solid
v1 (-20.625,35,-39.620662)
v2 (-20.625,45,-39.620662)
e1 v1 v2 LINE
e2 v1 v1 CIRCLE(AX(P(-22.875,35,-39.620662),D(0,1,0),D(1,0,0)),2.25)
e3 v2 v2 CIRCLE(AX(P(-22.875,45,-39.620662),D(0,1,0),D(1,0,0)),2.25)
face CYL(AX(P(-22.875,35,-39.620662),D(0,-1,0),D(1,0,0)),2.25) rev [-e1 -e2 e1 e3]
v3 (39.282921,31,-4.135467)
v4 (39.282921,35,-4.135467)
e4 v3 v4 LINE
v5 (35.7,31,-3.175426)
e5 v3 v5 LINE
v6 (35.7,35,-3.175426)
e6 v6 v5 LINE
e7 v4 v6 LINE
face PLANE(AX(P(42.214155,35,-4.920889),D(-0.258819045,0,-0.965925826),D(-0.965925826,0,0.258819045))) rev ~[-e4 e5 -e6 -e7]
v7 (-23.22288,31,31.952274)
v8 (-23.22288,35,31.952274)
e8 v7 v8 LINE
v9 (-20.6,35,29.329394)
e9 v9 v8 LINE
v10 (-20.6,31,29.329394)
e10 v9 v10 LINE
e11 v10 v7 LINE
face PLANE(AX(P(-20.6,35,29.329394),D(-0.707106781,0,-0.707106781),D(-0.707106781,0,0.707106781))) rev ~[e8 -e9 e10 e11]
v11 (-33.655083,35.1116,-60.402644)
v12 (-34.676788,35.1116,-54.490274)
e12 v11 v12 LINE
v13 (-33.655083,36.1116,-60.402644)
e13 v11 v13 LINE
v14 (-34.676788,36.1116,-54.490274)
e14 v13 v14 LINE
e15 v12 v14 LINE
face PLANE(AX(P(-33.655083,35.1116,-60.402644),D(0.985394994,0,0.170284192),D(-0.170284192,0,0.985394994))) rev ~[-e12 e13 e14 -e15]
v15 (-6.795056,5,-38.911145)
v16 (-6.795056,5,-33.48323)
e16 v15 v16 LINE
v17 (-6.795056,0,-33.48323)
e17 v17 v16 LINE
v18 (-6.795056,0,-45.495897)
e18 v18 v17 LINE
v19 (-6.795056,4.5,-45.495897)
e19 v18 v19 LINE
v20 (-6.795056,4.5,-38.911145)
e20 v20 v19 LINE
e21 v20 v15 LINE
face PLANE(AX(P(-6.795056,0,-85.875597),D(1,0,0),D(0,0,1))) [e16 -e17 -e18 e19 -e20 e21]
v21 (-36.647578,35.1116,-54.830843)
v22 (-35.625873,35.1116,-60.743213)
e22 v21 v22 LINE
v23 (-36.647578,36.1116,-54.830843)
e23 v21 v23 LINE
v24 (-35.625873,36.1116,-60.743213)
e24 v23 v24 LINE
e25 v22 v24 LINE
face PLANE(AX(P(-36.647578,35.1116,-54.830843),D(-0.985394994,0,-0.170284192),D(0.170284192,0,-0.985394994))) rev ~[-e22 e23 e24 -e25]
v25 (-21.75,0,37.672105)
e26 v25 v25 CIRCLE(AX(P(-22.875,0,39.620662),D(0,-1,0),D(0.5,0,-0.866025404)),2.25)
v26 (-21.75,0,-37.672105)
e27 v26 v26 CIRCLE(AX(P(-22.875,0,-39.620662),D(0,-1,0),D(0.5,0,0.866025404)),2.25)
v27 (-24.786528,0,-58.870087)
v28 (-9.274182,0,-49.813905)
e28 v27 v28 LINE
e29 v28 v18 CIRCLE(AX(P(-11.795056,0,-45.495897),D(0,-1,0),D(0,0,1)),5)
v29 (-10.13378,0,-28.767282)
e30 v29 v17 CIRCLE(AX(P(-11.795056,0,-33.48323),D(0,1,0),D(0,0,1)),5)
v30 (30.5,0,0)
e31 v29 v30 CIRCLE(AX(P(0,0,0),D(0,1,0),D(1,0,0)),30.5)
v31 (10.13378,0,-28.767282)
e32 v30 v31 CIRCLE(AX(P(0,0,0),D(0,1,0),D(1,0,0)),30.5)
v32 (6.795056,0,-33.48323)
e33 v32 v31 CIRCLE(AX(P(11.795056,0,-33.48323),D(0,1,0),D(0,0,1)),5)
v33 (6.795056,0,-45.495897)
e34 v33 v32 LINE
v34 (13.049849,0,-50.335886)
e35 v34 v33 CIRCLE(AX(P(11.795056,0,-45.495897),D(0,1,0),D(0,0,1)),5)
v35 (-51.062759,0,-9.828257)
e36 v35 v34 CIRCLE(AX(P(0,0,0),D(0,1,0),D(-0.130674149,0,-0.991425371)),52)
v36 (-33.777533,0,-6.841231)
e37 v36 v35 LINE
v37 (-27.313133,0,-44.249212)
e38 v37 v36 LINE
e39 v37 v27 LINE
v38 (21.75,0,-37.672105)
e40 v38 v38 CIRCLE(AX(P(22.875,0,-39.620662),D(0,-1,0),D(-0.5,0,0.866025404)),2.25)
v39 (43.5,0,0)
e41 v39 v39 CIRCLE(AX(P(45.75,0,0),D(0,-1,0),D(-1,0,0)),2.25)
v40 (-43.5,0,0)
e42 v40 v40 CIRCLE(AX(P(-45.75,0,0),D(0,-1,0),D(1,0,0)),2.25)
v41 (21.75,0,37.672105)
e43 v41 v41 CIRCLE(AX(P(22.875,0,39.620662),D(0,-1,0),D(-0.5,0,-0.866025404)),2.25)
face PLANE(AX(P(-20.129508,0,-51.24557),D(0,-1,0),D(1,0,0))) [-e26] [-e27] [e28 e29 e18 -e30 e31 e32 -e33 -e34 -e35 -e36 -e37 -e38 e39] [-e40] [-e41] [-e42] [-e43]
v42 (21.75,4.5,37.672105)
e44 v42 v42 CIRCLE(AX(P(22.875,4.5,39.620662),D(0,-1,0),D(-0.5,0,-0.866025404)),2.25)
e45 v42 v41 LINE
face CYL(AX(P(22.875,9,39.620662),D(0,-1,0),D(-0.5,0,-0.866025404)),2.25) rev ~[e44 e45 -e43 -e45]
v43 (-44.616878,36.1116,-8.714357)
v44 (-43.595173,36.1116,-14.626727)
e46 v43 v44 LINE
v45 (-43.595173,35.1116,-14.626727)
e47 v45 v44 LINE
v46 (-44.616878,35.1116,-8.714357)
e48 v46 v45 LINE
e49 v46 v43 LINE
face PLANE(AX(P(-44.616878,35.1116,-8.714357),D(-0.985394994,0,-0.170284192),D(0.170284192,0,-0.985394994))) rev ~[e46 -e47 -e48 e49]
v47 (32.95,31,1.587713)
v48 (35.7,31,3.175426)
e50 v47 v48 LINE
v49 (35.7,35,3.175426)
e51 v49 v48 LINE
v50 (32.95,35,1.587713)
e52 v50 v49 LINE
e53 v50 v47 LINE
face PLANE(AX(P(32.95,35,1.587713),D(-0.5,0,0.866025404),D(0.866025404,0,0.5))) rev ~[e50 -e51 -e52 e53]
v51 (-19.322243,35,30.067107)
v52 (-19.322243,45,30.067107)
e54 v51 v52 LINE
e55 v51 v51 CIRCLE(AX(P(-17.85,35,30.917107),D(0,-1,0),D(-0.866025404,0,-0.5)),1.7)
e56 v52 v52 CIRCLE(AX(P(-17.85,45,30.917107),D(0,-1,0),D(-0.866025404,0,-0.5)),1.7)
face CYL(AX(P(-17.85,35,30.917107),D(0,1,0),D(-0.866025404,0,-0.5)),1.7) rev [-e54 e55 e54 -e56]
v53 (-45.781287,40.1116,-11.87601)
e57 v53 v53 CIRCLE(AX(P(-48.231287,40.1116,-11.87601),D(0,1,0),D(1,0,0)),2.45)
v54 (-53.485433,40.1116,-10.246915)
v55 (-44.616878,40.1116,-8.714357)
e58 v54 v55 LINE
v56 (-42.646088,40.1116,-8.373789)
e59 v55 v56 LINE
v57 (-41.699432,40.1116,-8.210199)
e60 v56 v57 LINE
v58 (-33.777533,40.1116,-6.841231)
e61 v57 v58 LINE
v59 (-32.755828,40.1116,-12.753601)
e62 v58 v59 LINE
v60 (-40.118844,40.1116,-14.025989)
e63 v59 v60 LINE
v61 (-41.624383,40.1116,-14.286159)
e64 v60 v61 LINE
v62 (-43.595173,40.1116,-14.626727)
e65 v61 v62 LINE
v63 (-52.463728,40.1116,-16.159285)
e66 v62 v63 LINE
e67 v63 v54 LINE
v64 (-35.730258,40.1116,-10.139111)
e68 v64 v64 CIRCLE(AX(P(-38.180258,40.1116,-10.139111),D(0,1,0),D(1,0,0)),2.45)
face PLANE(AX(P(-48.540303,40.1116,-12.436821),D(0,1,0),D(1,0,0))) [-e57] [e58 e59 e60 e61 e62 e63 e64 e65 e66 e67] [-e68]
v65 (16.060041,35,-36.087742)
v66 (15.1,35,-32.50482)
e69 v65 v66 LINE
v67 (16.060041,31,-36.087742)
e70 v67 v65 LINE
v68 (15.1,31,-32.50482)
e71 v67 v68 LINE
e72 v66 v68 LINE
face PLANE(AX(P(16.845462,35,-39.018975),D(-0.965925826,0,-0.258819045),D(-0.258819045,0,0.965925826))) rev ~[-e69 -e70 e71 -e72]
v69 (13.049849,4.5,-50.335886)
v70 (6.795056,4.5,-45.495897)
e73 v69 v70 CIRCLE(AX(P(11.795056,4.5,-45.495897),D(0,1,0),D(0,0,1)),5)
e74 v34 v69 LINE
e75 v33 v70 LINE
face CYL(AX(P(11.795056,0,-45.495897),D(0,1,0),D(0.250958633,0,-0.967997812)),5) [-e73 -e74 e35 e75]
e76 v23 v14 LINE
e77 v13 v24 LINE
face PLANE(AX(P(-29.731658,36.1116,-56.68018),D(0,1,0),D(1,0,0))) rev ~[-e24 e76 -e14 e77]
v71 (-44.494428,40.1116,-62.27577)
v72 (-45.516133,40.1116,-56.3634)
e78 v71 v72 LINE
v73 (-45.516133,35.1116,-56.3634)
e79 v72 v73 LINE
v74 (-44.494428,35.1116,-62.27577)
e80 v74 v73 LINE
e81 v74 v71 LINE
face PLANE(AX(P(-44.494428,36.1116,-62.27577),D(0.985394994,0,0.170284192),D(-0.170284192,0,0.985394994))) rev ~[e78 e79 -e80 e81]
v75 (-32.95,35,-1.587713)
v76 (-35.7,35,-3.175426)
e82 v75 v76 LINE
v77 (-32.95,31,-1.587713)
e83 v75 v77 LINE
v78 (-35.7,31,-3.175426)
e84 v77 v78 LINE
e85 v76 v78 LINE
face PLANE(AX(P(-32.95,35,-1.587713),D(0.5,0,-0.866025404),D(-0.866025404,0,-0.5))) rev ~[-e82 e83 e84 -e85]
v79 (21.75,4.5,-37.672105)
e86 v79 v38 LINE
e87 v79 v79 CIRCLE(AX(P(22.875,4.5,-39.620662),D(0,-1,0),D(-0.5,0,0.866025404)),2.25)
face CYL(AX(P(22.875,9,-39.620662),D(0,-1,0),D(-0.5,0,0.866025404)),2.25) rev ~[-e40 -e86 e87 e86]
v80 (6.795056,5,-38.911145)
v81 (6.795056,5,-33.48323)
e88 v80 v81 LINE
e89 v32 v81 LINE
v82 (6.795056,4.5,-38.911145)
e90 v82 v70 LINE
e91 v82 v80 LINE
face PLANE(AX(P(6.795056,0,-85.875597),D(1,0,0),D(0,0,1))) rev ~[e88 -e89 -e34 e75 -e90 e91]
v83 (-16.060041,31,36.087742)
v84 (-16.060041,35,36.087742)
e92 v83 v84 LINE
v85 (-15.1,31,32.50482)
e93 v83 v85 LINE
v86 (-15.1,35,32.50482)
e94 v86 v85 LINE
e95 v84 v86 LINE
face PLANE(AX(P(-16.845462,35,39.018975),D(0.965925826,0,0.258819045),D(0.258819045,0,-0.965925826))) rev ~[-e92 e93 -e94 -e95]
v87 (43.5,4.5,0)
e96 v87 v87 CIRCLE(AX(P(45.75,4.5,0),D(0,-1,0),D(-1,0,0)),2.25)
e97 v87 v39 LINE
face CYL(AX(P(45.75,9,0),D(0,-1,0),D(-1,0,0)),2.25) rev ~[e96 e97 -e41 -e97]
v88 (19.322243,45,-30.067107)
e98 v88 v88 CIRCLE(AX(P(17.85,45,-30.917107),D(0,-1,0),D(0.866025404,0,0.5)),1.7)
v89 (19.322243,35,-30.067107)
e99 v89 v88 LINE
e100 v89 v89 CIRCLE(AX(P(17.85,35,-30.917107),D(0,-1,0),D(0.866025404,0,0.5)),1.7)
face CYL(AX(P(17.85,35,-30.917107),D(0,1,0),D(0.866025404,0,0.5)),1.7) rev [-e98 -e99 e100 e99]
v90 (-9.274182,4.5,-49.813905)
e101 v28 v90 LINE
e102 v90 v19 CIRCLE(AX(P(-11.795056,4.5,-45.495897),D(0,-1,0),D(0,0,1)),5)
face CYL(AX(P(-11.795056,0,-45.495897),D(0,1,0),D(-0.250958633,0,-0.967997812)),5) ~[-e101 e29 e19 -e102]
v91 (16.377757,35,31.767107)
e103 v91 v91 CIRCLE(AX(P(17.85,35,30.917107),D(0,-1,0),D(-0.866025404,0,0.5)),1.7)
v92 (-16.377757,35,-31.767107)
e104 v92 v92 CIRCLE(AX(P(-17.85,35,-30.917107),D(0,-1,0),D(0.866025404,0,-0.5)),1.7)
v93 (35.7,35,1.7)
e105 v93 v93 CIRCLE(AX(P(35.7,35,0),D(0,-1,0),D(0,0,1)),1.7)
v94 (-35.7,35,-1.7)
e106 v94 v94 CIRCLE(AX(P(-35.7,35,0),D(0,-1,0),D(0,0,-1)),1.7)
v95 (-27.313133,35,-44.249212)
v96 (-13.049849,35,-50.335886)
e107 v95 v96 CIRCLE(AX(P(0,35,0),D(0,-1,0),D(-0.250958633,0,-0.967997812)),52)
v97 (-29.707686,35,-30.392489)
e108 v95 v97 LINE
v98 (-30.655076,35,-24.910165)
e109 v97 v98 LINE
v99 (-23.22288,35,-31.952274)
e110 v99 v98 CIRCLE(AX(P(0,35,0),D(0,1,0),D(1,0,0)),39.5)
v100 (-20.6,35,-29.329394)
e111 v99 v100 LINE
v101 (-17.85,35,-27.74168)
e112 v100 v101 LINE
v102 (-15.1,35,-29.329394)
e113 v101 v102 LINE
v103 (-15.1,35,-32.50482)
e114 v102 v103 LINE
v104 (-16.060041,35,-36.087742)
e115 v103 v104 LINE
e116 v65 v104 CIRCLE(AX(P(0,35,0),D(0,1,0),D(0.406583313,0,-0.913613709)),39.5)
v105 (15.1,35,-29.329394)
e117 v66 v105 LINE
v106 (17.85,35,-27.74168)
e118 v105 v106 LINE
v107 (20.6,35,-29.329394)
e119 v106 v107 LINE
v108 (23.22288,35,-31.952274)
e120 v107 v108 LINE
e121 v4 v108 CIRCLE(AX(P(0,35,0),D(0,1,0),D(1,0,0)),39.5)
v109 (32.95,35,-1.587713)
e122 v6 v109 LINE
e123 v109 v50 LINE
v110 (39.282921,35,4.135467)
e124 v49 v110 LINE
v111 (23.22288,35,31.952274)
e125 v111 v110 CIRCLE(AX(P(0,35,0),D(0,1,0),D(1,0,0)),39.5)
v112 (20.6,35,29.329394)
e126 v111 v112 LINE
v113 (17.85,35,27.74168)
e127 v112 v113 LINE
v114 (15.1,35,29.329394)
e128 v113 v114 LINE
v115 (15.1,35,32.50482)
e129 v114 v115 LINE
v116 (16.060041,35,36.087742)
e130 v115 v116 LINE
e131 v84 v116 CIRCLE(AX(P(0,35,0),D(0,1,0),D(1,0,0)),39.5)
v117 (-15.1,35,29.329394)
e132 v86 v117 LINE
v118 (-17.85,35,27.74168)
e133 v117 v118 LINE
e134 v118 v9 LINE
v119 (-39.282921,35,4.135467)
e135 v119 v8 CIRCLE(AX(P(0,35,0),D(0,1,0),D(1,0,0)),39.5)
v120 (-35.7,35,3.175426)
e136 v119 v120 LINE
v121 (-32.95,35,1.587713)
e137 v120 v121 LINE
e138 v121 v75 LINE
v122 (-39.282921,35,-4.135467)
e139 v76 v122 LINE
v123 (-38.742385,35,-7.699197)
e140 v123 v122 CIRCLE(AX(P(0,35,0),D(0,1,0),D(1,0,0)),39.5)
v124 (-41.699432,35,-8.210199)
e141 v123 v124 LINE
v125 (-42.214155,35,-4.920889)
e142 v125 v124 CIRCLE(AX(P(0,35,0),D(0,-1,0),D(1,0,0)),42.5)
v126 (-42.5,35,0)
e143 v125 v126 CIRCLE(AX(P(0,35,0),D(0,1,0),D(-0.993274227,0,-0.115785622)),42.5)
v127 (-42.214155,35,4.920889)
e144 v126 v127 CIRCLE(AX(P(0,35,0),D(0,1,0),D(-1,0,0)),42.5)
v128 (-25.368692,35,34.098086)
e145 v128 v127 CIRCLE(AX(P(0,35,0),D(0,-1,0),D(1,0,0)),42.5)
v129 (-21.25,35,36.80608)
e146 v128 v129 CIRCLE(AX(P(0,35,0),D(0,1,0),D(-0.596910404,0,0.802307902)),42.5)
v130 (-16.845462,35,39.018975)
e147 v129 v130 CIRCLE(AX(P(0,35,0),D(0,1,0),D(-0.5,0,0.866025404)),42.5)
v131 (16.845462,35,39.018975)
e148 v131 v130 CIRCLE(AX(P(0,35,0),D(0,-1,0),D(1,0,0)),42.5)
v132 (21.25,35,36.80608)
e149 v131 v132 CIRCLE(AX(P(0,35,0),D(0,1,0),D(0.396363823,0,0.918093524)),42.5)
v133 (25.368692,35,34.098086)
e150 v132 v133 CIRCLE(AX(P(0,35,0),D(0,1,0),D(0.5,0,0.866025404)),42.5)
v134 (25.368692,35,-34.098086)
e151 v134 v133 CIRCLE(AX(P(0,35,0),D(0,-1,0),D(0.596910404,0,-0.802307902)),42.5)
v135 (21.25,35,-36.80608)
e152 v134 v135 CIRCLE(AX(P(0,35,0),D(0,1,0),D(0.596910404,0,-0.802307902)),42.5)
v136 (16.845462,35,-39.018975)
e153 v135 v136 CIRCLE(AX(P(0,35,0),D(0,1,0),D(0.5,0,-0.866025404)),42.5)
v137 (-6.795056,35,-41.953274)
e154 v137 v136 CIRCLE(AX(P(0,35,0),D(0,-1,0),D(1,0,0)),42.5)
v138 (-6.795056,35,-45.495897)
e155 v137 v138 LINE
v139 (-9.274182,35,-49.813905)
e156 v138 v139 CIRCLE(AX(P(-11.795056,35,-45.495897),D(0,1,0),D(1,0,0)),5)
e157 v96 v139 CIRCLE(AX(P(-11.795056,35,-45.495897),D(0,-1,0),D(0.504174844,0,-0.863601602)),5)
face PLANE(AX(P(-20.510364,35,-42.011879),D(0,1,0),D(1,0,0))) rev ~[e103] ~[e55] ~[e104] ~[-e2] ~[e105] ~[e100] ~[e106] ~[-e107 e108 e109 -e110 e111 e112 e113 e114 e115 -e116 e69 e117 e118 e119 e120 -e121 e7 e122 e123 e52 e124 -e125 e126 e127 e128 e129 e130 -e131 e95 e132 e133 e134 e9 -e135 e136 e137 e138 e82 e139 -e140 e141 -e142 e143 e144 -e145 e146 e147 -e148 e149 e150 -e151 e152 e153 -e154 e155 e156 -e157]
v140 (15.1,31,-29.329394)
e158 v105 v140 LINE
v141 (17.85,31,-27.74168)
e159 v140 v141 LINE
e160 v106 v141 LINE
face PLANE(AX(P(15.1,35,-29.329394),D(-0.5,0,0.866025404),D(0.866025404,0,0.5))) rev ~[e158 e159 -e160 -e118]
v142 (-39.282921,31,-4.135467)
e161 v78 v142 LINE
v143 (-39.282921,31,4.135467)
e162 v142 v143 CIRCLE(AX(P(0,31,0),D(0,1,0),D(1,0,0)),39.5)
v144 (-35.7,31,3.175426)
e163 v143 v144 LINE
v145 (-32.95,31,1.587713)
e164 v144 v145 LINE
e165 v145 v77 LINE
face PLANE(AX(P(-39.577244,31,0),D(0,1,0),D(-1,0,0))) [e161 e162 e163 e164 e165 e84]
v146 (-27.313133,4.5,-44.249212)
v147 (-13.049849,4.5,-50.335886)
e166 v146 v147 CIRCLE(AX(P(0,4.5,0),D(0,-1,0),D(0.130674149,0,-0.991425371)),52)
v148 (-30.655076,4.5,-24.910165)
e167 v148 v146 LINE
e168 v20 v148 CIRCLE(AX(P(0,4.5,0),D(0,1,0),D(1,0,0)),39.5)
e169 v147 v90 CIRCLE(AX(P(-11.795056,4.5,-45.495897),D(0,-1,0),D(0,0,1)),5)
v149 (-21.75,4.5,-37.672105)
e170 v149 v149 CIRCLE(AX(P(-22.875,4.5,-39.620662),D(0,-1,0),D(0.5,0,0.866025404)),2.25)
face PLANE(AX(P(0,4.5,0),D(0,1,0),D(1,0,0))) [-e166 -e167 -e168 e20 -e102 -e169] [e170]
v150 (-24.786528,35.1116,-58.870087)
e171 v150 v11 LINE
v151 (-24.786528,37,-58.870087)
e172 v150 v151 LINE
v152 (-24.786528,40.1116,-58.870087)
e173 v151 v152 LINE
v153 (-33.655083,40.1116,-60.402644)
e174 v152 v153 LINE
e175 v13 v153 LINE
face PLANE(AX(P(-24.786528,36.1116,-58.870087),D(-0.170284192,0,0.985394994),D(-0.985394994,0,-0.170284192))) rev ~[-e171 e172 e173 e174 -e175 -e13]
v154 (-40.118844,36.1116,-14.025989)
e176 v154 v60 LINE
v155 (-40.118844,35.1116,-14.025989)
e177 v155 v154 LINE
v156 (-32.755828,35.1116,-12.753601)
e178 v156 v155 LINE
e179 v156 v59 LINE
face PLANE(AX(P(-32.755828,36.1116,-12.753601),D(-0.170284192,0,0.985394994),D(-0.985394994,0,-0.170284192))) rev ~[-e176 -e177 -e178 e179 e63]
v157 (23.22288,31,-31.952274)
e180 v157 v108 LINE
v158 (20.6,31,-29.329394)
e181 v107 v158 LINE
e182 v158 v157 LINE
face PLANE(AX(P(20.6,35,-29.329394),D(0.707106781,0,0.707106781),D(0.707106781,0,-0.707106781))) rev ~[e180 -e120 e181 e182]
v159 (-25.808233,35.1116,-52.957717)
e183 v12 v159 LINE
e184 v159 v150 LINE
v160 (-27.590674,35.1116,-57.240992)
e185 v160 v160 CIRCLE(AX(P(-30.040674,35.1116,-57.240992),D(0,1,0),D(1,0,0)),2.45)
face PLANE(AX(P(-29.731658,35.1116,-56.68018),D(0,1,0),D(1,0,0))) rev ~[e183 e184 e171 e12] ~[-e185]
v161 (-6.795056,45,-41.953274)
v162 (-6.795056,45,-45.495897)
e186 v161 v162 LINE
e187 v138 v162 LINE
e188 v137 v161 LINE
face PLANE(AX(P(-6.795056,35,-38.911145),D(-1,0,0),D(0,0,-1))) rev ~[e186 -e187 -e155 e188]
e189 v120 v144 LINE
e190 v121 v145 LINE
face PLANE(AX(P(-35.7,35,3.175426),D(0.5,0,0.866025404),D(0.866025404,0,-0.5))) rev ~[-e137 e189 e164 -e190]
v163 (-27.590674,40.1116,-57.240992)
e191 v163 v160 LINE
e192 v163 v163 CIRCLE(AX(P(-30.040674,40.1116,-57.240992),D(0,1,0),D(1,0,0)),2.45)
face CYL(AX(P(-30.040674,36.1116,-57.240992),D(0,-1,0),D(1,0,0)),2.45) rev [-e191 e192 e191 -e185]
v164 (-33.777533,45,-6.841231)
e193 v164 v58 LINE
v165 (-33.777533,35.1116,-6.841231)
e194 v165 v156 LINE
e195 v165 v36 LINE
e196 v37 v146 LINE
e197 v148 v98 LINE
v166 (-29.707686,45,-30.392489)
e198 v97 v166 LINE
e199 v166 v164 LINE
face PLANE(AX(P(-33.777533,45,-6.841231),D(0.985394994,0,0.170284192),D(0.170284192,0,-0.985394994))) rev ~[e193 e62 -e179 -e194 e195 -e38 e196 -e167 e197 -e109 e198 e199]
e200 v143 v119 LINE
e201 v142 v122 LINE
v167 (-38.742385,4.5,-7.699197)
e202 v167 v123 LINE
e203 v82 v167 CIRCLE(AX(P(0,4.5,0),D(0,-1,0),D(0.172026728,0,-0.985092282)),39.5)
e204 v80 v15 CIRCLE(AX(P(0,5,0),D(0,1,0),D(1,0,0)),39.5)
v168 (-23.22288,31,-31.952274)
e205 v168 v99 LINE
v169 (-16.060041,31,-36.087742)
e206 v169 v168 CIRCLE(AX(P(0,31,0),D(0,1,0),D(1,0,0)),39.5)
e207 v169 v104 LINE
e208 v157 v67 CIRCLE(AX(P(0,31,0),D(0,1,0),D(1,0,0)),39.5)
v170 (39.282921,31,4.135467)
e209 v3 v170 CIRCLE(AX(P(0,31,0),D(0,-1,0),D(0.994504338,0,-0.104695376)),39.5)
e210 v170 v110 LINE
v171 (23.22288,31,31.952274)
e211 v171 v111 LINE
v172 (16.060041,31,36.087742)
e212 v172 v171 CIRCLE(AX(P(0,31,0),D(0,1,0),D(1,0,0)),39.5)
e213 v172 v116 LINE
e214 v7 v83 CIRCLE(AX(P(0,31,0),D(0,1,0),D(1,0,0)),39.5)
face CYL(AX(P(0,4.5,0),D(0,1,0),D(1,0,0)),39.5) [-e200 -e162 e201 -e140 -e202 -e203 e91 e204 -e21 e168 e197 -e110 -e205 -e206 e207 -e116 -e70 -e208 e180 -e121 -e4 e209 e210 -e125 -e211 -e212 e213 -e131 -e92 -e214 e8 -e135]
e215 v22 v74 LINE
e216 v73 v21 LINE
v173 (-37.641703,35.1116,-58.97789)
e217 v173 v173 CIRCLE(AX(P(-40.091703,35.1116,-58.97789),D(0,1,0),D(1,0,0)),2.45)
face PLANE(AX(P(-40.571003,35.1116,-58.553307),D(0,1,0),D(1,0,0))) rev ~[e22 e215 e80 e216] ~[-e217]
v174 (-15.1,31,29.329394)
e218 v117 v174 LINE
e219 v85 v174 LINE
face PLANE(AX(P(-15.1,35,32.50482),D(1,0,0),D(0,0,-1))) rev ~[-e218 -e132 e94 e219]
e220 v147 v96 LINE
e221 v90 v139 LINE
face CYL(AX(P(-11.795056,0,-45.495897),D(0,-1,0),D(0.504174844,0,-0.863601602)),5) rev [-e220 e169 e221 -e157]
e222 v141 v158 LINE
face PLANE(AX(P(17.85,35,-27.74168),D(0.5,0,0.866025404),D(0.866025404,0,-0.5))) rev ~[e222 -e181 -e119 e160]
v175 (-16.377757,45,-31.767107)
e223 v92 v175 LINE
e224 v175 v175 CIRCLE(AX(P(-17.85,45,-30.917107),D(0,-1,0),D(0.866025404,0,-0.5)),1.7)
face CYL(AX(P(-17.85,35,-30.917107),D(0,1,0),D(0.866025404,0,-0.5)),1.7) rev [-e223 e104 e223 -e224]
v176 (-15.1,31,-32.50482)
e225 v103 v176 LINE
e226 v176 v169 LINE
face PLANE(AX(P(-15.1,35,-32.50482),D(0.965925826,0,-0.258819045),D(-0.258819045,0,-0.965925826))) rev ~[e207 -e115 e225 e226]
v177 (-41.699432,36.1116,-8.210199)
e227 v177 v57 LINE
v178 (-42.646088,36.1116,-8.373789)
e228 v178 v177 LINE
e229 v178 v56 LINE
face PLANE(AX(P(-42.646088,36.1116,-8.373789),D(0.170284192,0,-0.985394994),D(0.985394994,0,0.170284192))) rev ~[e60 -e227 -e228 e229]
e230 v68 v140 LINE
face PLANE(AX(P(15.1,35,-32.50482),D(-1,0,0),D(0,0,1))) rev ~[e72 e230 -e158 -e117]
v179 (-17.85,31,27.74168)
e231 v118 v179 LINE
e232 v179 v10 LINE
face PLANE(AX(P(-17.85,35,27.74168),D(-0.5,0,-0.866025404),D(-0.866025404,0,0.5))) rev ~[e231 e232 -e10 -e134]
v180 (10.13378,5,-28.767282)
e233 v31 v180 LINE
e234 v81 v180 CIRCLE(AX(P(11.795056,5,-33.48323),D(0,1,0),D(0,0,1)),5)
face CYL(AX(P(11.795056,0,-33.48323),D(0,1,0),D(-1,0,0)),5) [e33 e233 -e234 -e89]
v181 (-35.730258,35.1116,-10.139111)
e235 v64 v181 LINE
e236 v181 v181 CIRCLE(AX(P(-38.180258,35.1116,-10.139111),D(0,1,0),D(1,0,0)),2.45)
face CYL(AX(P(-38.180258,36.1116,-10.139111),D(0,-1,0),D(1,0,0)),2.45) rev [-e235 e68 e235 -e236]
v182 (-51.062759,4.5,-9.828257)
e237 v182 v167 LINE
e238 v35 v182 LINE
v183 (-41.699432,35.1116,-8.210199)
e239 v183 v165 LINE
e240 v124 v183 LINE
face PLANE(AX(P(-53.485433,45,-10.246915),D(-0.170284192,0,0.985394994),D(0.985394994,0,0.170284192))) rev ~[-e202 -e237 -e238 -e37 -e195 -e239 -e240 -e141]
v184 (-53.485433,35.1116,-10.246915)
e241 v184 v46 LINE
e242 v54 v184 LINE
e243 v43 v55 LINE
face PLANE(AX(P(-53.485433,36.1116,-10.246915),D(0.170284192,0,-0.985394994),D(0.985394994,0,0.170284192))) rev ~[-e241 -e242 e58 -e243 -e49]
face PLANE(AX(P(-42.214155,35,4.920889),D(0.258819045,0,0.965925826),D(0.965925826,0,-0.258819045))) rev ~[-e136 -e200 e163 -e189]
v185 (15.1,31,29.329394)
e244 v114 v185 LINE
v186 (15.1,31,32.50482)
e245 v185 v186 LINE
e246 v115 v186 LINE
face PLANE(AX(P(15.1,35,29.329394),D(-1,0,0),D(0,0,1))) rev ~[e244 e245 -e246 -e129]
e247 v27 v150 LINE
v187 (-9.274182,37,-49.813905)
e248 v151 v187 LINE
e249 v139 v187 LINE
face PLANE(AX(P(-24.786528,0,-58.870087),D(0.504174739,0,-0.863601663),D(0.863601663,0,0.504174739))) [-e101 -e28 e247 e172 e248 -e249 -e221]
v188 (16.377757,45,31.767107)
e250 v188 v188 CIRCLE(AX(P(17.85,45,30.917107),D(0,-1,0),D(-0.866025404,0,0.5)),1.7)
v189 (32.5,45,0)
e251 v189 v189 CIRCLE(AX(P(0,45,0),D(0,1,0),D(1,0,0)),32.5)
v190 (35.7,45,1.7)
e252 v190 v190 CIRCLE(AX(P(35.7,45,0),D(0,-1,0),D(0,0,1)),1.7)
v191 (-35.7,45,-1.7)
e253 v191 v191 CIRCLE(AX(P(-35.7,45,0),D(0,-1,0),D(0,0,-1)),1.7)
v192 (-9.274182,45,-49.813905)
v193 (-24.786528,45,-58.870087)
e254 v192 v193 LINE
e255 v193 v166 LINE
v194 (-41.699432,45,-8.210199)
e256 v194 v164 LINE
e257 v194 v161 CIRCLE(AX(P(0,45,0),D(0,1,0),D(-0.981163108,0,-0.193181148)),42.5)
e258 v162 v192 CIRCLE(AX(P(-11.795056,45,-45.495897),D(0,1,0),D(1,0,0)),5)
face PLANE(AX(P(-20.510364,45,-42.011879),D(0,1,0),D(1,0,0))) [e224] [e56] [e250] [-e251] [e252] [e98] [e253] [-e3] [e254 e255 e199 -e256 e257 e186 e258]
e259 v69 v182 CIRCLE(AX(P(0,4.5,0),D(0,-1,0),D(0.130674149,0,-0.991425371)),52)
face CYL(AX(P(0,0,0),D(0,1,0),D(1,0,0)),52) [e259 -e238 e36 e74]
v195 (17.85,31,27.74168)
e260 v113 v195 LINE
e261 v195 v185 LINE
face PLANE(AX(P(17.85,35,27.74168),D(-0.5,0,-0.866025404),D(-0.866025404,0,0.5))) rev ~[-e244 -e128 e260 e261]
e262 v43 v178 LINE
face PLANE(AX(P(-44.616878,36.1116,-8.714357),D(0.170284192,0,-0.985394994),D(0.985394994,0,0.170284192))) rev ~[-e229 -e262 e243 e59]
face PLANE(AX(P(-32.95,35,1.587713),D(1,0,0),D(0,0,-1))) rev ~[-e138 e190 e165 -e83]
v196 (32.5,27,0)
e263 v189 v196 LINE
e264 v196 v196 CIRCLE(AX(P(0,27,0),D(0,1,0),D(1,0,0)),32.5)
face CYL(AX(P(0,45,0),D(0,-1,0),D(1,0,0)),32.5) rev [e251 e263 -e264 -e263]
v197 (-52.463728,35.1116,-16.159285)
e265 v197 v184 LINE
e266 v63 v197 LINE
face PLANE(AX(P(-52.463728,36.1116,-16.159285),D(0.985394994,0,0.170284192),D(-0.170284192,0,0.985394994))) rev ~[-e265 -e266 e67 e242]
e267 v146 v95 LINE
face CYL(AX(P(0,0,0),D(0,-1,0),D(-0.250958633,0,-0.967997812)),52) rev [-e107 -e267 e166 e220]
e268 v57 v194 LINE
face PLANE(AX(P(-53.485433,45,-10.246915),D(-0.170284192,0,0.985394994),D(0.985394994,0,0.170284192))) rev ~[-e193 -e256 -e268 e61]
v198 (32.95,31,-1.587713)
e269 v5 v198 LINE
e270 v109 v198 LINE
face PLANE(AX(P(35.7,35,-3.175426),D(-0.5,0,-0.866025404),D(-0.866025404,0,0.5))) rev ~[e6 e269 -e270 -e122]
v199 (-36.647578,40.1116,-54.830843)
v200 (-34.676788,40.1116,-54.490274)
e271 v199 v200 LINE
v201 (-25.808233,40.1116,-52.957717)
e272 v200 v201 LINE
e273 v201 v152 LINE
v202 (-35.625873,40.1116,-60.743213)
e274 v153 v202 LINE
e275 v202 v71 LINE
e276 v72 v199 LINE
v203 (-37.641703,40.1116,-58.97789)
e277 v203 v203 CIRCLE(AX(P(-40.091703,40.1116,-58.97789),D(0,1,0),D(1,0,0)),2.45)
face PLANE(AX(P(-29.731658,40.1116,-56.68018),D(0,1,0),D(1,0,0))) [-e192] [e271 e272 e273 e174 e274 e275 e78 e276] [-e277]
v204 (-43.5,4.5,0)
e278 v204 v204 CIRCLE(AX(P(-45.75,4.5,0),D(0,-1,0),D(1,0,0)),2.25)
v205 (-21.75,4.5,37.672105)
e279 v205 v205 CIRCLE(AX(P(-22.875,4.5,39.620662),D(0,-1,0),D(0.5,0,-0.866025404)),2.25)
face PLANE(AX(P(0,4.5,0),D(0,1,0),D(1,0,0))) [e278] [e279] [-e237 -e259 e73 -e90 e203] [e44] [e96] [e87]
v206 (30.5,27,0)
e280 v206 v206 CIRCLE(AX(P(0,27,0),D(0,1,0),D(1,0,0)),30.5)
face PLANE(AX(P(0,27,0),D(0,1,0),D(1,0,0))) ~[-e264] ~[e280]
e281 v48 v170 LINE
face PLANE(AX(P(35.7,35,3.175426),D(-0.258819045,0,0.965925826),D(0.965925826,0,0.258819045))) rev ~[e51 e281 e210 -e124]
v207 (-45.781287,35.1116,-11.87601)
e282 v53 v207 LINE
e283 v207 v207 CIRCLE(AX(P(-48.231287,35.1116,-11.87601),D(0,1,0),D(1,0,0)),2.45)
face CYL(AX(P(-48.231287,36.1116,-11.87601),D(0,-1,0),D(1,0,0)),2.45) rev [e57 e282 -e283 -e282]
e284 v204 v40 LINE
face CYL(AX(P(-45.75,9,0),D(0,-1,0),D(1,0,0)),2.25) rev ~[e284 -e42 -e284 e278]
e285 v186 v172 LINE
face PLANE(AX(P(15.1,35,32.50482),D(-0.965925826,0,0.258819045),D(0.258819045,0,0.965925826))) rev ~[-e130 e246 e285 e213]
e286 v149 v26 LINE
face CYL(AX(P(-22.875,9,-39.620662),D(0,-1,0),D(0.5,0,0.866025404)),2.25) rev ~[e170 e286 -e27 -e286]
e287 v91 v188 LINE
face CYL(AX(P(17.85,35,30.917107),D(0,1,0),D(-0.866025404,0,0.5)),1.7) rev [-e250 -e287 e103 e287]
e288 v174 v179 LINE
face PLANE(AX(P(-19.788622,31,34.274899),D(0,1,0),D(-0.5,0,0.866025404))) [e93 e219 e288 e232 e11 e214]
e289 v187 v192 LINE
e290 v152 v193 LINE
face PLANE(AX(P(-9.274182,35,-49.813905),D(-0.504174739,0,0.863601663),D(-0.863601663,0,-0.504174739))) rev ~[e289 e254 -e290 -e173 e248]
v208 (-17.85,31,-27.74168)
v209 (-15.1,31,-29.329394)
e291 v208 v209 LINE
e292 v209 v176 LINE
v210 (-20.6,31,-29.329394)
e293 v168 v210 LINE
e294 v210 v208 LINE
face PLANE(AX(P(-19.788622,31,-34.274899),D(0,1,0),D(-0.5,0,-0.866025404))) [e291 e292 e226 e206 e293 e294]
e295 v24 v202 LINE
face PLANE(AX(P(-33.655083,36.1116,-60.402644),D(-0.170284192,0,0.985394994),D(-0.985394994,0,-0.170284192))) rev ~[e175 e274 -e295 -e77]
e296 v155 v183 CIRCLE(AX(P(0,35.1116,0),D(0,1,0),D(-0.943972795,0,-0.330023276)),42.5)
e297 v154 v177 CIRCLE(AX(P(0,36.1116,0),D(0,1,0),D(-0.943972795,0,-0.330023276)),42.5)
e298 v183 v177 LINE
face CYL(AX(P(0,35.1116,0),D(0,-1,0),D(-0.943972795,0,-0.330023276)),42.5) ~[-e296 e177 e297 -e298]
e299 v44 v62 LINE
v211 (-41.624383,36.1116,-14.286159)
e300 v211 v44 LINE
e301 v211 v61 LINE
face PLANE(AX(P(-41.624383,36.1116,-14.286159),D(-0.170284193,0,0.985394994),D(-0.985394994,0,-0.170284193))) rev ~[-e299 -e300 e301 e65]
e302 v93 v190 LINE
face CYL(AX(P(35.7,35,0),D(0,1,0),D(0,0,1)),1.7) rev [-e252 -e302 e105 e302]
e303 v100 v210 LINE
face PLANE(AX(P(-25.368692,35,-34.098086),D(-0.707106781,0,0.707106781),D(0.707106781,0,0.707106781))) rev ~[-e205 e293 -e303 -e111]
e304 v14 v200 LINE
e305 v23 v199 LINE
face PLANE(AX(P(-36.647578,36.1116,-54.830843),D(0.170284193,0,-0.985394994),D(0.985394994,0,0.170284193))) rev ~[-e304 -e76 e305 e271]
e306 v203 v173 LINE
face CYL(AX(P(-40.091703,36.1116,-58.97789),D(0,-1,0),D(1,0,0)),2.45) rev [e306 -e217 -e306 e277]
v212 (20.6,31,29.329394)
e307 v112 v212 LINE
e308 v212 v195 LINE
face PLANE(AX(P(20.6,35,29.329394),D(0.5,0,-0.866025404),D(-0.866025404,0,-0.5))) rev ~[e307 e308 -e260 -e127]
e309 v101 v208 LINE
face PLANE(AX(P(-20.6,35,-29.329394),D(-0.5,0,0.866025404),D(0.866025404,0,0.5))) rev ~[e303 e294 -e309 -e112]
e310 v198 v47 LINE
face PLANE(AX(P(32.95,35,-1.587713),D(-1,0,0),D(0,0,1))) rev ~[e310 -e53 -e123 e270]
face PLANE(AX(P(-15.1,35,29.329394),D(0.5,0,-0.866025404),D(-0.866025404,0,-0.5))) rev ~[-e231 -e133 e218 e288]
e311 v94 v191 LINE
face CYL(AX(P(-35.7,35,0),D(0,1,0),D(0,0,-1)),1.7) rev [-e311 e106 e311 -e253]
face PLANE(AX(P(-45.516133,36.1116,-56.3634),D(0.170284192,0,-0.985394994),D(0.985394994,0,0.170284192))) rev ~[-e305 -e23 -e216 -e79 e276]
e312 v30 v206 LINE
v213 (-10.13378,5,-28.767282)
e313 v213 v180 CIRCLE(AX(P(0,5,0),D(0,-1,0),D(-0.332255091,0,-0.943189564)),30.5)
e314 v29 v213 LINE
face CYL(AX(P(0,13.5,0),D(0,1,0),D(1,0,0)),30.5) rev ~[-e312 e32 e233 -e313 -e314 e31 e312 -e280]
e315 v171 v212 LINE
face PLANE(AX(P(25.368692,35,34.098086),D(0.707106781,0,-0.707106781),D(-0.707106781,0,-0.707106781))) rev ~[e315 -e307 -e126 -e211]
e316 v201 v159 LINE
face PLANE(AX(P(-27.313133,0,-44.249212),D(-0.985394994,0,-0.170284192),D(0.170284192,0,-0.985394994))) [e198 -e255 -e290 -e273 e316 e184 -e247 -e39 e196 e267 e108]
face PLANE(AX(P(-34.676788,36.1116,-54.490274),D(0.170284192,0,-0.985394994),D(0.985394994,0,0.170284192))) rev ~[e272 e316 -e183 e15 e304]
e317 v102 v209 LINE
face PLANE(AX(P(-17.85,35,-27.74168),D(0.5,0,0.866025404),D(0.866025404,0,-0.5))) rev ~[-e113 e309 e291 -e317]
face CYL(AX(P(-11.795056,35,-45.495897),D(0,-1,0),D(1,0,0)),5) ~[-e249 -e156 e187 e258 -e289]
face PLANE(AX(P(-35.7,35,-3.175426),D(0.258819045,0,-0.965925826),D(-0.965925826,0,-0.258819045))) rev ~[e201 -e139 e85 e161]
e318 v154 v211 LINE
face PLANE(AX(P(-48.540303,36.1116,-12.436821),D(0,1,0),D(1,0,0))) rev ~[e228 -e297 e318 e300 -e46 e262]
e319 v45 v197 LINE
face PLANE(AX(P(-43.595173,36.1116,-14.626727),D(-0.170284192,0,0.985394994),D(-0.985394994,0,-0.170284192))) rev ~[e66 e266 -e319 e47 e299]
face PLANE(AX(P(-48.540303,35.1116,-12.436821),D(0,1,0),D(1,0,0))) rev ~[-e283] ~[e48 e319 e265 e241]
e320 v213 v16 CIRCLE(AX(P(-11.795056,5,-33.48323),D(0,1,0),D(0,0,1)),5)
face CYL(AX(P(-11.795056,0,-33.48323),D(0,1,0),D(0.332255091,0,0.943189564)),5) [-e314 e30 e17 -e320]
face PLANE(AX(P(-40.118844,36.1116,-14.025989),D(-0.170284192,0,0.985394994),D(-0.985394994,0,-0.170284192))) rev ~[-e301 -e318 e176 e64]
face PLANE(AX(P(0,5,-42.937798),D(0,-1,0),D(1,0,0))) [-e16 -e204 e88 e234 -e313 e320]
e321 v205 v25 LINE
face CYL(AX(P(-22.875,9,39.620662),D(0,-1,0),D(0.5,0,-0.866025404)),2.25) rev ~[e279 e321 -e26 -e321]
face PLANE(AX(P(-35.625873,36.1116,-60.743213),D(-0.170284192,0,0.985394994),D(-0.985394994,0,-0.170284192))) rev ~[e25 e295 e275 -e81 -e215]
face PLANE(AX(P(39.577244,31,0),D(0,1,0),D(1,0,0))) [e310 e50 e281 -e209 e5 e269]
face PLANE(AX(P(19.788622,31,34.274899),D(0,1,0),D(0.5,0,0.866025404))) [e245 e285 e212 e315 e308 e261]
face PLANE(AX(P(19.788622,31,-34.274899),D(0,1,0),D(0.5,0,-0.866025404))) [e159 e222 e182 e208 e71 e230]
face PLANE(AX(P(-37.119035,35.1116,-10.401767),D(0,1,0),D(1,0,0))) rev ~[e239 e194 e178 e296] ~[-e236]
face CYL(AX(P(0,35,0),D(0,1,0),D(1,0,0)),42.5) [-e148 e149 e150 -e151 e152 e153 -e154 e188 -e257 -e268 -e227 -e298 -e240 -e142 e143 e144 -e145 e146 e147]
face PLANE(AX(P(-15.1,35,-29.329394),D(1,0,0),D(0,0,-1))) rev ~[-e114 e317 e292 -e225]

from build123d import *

# Parameters (mm, degrees)
SKETCH1_W                = 2
SKETCH1_H                = 27
M4_CLEARANCE_HOLE1_D     = 4.5
M4_CLEARANCE_HOLE1_DEPTH = 4.5
CUT_EXTRUDE1_START       = -10
CUT_EXTRUDE1_DEPTH       = 4
CIRPATTERN3_COUNT        = 6
SKETCH7_W                = 13.590111476
SKETCH7_H                = 85.87559673
CUT_EXTRUDE2_DEPTH       = 5
FILLET1_R                = 5
CUT_EXTRUDE3_DEPTH       = 46
BOSS_EXTRUDE1_START      = -9.8884
SKETCH8_3_R              = 2.45
BOSS_EXTRUDE1_DEPTH      = 1
BOSS_EXTRUDE2_START      = -8.8884
SKETCH8_4_R              = 2.45
BOSS_EXTRUDE2_DEPTH      = 4
BOSS_EXTRUDE3_DEPTH      = 37
BOSS_EXTRUDE4_START      = -2
SKETCH12_R               = 2.25
BOSS_EXTRUDE4_DEPTH      = 10


with BuildPart() as part:
    # Sketch1 → Revolve1 (revolve)
    with BuildSketch(Plane.XY):
        Polygon((32.5, 0), (39.5, 0), (52, 0), (52, 4.5), (39.5, 4.5), (39.5, 35), (42.5, 35), (42.5, 45), (32.5, 45), (32.5, 38), (32.5, 33), (32.5, 27), align=None)
        with Locations((31.5, 13.5)):
            Rectangle(SKETCH1_W, SKETCH1_H)
    revolve(axis=Axis((0, 0, 0), (0, 1, 0)))

    # M4 Clearance Hole1
    with Locations(Plane(origin=(0, 4.5, 0), x_dir=(1, 0, 0), z_dir=(0, 1, 0))):
        with Locations((45.75, 0)):
            m4_clearance_hole1 = Hole(M4_CLEARANCE_HOLE1_D / 2, depth=M4_CLEARANCE_HOLE1_DEPTH)

    # Sketch5 → M3 Clearance Hole1 (revolve, cut)
    with BuildSketch(Plane(origin=(35.7, 45, 0), x_dir=(0, 0, 1), z_dir=(1, 0, 0))):
        Polygon((0, 0), (0, 11.021463052), (1.7, 10), (1.7, 0), align=None)
    m3_clearance_hole1 = revolve(axis=Axis((35.7, 51.35, 0), (0, -1, 0)), mode=Mode.SUBTRACT)

    # Sketch4_2 → Cut-Extrude1 (cut)
    with BuildSketch(Plane(origin=(0, 45, 0), x_dir=(1, 0, 0), z_dir=(0, 1, 0)).offset(CUT_EXTRUDE1_START)):
        with BuildLine():
            Line((38.45, 1.58771324), (38.45, -1.58771324))
            Line((38.45, -1.58771324), (35.7, -3.175426481))
            Line((35.7, -3.175426481), (42.214154639, -4.920888955))
            ThreePointArc((42.214154639, -4.920888955), (42.428478479, -2.464592039), (42.5, 0))
            ThreePointArc((42.5, 0), (42.428478479, 2.464592039), (42.214154639, 4.920888955))
            Line((42.214154639, 4.920888955), (35.7, 3.175426481))
            Line((35.7, 3.175426481), (38.45, 1.58771324))
        make_face()
        Polygon((32.95, -1.58771324), (35.7, -3.175426481), (38.45, -1.58771324), (38.45, 1.58771324), (35.7, 3.175426481), (32.95, 1.58771324), align=None)
    cut_extrude1 = extrude(amount=-CUT_EXTRUDE1_DEPTH, mode=Mode.SUBTRACT)

    # CirPattern3: M4 Clearance Hole1, M3 Clearance Hole1, Cut-Extrude1 ×6 about axis
    cirpattern3_axis = Axis((0, 0, 0), (0, 1, 0))
    for i in range(1, CIRPATTERN3_COUNT):
        add(m4_clearance_hole1.rotate(cirpattern3_axis, i * 360 / CIRPATTERN3_COUNT), mode=Mode.SUBTRACT)
        add(m3_clearance_hole1.rotate(cirpattern3_axis, i * 360 / CIRPATTERN3_COUNT), mode=Mode.SUBTRACT)
        add(cut_extrude1.rotate(cirpattern3_axis, i * 360 / CIRPATTERN3_COUNT), mode=Mode.SUBTRACT)

    # Sketch7 → Cut-Extrude2 (cut)
    with BuildSketch(Plane.XZ):
        with Locations((0, -42.937798365)):
            Rectangle(SKETCH7_W, SKETCH7_H)
    extrude(amount=-CUT_EXTRUDE2_DEPTH, mode=Mode.SUBTRACT)

    # Fillet1
    fillet1_edges = [part.edges().sort_by_distance(p)[0] for p in [
        (-6.795055738, 2.5, -29.733436019),
        (-6.795055738, 2.25, -51.554119307),
        (6.795055738, 2.5, -29.733436019),
        (6.795055738, 2.25, -51.554119307),
    ]]
    fillet(fillet1_edges, radius=FILLET1_R)

    # Sketch8 → Cut-Extrude3 (cut, through all)
    with BuildSketch(Plane(origin=(0, 45, 0), x_dir=(1, 0, 0), z_dir=(0, 1, 0))):
        Polygon((-33.77753348, 6.841230885), (-24.786528121, 58.870086558), (-44.494427997, 62.275770406), (-53.485433356, 10.246914732), align=None)
    extrude(amount=-CUT_EXTRUDE3_DEPTH, mode=Mode.SUBTRACT)

    # Sketch8_3 → Boss-Extrude1 (add)
    with BuildSketch(Plane(origin=(0, 45, 0), x_dir=(1, 0, 0), z_dir=(0, 1, 0)).offset(BOSS_EXTRUDE1_START)):
        Polygon((-34.67678822, 54.490274326), (-25.808233276, 52.957716595), (-24.786528121, 58.870086558), (-33.655083065, 60.402644289), align=None)
        with Locations((-30.040674072, 57.240991616)):
            Circle(SKETCH8_3_R, mode=Mode.SUBTRACT)
        Polygon((-45.516133152, 56.363400443), (-36.647578207, 54.830842711), (-35.625873053, 60.743212674), (-44.494427997, 62.275770406), align=None)
        with Locations((-40.091703009, 58.977890378)):
            Circle(SKETCH8_3_R, mode=Mode.SUBTRACT)
        Polygon((-53.485433356, 10.246914732), (-44.616878412, 8.714357001), (-43.595173257, 14.626726964), (-52.463728201, 16.159284695), align=None)
        with Locations((-48.231287405, 11.876009674)):
            Circle(SKETCH8_3_R, mode=Mode.SUBTRACT)
        with BuildLine():
            Line((-41.699432083, 8.210198775), (-33.77753348, 6.841230885))
            Line((-33.77753348, 6.841230885), (-32.755828325, 12.753600847))
            Line((-32.755828325, 12.753600847), (-40.118843779, 14.025989228))
            ThreePointArc((-40.118843779, 14.025989228), (-41.01235693, 11.146146378), (-41.699432083, 8.210198775))
        make_face()
        with Locations((-38.180258468, 10.139110912)):
            Circle(SKETCH8_3_R, mode=Mode.SUBTRACT)
    extrude(amount=BOSS_EXTRUDE1_DEPTH)

    # Sketch8_4 → Boss-Extrude2 (add)
    with BuildSketch(Plane(origin=(0, 45, 0), x_dir=(1, 0, 0), z_dir=(0, 1, 0)).offset(BOSS_EXTRUDE2_START)):
        Polygon((-34.67678822, 54.490274326), (-25.808233276, 52.957716595), (-24.786528121, 58.870086558), (-33.655083065, 60.402644289), align=None)
        with Locations((-30.040674072, 57.240991616)):
            Circle(SKETCH8_4_R, mode=Mode.SUBTRACT)
        Polygon((-45.516133152, 56.363400443), (-36.647578207, 54.830842711), (-35.625873053, 60.743212674), (-44.494427997, 62.275770406), align=None)
        with Locations((-40.091703009, 58.977890378)):
            Circle(SKETCH8_4_R, mode=Mode.SUBTRACT)
        Polygon((-36.647578207, 54.830842711), (-34.67678822, 54.490274326), (-33.655083065, 60.402644289), (-35.625873053, 60.743212674), align=None)
        Polygon((-53.485433356, 10.246914732), (-44.616878412, 8.714357001), (-43.595173257, 14.626726964), (-52.463728201, 16.159284695), align=None)
        with Locations((-48.231287405, 11.876009674)):
            Circle(SKETCH8_4_R, mode=Mode.SUBTRACT)
        Polygon((-44.616878412, 8.714357001), (-42.646088424, 8.373788616), (-41.62438327, 14.286158579), (-43.595173257, 14.626726964), align=None)
        with BuildLine():
            Line((-41.699432083, 8.210198775), (-33.77753348, 6.841230885))
            Line((-33.77753348, 6.841230885), (-32.755828325, 12.753600847))
            Line((-32.755828325, 12.753600847), (-40.118843779, 14.025989228))
            ThreePointArc((-40.118843779, 14.025989228), (-41.01235693, 11.146146378), (-41.699432083, 8.210198775))
        make_face()
        with Locations((-38.180258468, 10.139110912)):
            Circle(SKETCH8_4_R, mode=Mode.SUBTRACT)
        with BuildLine():
            Line((-42.646088424, 8.373788616), (-41.699432083, 8.210198775))
            ThreePointArc((-41.699432083, 8.210198775), (-41.01235693, 11.146146378), (-40.118843779, 14.025989228))
            Line((-40.118843779, 14.025989228), (-41.62438327, 14.286158579))
            Line((-41.62438327, 14.286158579), (-42.646088424, 8.373788616))
        make_face()
    extrude(amount=BOSS_EXTRUDE2_DEPTH)

    # Sketch11 → Boss-Extrude3 (add)
    with BuildSketch(Plane.XZ):
        with BuildLine():
            Line((-27.313133013, -44.249212027), (-24.786528121, -58.870086558))
            Line((-24.786528121, -58.870086558), (-9.274181519, -49.813905189))
            ThreePointArc((-9.274181519, -49.813905189), (-11.110324868, -50.448789631), (-13.049848902, -50.335886241))
            ThreePointArc((-13.049848902, -50.335886241), (-20.409666288, -47.827246649), (-27.313133013, -44.249212027))
        make_face()
    extrude(amount=-BOSS_EXTRUDE3_DEPTH)

    # Sketch12 → Boss-Extrude4 (add)
    with BuildSketch(Plane(origin=(0, 37, 0), x_dir=(1, 0, 0), z_dir=(0, 1, 0)).offset(BOSS_EXTRUDE4_START)):
        with BuildLine():
            ThreePointArc((-6.795055738, 45.495897179), (-7.45890719, 47.985438456), (-9.274182045, 49.813905496))
            Line((-9.274182045, 49.813905496), (-24.786528121, 58.870086558))
            Line((-24.786528121, 58.870086558), (-30.655076171, 24.910164692))
            ThreePointArc((-30.655076171, 24.910164692), (-19.990871879, 34.067800655), (-6.795055738, 38.911145158))
            Line((-6.795055738, 38.911145158), (-6.795055738, 45.495897179))
        make_face()
        with Locations((-22.875, 39.620662223)):
            Circle(SKETCH12_R, mode=Mode.SUBTRACT)
    extrude(amount=BOSS_EXTRUDE4_DEPTH)


solid = part.part
